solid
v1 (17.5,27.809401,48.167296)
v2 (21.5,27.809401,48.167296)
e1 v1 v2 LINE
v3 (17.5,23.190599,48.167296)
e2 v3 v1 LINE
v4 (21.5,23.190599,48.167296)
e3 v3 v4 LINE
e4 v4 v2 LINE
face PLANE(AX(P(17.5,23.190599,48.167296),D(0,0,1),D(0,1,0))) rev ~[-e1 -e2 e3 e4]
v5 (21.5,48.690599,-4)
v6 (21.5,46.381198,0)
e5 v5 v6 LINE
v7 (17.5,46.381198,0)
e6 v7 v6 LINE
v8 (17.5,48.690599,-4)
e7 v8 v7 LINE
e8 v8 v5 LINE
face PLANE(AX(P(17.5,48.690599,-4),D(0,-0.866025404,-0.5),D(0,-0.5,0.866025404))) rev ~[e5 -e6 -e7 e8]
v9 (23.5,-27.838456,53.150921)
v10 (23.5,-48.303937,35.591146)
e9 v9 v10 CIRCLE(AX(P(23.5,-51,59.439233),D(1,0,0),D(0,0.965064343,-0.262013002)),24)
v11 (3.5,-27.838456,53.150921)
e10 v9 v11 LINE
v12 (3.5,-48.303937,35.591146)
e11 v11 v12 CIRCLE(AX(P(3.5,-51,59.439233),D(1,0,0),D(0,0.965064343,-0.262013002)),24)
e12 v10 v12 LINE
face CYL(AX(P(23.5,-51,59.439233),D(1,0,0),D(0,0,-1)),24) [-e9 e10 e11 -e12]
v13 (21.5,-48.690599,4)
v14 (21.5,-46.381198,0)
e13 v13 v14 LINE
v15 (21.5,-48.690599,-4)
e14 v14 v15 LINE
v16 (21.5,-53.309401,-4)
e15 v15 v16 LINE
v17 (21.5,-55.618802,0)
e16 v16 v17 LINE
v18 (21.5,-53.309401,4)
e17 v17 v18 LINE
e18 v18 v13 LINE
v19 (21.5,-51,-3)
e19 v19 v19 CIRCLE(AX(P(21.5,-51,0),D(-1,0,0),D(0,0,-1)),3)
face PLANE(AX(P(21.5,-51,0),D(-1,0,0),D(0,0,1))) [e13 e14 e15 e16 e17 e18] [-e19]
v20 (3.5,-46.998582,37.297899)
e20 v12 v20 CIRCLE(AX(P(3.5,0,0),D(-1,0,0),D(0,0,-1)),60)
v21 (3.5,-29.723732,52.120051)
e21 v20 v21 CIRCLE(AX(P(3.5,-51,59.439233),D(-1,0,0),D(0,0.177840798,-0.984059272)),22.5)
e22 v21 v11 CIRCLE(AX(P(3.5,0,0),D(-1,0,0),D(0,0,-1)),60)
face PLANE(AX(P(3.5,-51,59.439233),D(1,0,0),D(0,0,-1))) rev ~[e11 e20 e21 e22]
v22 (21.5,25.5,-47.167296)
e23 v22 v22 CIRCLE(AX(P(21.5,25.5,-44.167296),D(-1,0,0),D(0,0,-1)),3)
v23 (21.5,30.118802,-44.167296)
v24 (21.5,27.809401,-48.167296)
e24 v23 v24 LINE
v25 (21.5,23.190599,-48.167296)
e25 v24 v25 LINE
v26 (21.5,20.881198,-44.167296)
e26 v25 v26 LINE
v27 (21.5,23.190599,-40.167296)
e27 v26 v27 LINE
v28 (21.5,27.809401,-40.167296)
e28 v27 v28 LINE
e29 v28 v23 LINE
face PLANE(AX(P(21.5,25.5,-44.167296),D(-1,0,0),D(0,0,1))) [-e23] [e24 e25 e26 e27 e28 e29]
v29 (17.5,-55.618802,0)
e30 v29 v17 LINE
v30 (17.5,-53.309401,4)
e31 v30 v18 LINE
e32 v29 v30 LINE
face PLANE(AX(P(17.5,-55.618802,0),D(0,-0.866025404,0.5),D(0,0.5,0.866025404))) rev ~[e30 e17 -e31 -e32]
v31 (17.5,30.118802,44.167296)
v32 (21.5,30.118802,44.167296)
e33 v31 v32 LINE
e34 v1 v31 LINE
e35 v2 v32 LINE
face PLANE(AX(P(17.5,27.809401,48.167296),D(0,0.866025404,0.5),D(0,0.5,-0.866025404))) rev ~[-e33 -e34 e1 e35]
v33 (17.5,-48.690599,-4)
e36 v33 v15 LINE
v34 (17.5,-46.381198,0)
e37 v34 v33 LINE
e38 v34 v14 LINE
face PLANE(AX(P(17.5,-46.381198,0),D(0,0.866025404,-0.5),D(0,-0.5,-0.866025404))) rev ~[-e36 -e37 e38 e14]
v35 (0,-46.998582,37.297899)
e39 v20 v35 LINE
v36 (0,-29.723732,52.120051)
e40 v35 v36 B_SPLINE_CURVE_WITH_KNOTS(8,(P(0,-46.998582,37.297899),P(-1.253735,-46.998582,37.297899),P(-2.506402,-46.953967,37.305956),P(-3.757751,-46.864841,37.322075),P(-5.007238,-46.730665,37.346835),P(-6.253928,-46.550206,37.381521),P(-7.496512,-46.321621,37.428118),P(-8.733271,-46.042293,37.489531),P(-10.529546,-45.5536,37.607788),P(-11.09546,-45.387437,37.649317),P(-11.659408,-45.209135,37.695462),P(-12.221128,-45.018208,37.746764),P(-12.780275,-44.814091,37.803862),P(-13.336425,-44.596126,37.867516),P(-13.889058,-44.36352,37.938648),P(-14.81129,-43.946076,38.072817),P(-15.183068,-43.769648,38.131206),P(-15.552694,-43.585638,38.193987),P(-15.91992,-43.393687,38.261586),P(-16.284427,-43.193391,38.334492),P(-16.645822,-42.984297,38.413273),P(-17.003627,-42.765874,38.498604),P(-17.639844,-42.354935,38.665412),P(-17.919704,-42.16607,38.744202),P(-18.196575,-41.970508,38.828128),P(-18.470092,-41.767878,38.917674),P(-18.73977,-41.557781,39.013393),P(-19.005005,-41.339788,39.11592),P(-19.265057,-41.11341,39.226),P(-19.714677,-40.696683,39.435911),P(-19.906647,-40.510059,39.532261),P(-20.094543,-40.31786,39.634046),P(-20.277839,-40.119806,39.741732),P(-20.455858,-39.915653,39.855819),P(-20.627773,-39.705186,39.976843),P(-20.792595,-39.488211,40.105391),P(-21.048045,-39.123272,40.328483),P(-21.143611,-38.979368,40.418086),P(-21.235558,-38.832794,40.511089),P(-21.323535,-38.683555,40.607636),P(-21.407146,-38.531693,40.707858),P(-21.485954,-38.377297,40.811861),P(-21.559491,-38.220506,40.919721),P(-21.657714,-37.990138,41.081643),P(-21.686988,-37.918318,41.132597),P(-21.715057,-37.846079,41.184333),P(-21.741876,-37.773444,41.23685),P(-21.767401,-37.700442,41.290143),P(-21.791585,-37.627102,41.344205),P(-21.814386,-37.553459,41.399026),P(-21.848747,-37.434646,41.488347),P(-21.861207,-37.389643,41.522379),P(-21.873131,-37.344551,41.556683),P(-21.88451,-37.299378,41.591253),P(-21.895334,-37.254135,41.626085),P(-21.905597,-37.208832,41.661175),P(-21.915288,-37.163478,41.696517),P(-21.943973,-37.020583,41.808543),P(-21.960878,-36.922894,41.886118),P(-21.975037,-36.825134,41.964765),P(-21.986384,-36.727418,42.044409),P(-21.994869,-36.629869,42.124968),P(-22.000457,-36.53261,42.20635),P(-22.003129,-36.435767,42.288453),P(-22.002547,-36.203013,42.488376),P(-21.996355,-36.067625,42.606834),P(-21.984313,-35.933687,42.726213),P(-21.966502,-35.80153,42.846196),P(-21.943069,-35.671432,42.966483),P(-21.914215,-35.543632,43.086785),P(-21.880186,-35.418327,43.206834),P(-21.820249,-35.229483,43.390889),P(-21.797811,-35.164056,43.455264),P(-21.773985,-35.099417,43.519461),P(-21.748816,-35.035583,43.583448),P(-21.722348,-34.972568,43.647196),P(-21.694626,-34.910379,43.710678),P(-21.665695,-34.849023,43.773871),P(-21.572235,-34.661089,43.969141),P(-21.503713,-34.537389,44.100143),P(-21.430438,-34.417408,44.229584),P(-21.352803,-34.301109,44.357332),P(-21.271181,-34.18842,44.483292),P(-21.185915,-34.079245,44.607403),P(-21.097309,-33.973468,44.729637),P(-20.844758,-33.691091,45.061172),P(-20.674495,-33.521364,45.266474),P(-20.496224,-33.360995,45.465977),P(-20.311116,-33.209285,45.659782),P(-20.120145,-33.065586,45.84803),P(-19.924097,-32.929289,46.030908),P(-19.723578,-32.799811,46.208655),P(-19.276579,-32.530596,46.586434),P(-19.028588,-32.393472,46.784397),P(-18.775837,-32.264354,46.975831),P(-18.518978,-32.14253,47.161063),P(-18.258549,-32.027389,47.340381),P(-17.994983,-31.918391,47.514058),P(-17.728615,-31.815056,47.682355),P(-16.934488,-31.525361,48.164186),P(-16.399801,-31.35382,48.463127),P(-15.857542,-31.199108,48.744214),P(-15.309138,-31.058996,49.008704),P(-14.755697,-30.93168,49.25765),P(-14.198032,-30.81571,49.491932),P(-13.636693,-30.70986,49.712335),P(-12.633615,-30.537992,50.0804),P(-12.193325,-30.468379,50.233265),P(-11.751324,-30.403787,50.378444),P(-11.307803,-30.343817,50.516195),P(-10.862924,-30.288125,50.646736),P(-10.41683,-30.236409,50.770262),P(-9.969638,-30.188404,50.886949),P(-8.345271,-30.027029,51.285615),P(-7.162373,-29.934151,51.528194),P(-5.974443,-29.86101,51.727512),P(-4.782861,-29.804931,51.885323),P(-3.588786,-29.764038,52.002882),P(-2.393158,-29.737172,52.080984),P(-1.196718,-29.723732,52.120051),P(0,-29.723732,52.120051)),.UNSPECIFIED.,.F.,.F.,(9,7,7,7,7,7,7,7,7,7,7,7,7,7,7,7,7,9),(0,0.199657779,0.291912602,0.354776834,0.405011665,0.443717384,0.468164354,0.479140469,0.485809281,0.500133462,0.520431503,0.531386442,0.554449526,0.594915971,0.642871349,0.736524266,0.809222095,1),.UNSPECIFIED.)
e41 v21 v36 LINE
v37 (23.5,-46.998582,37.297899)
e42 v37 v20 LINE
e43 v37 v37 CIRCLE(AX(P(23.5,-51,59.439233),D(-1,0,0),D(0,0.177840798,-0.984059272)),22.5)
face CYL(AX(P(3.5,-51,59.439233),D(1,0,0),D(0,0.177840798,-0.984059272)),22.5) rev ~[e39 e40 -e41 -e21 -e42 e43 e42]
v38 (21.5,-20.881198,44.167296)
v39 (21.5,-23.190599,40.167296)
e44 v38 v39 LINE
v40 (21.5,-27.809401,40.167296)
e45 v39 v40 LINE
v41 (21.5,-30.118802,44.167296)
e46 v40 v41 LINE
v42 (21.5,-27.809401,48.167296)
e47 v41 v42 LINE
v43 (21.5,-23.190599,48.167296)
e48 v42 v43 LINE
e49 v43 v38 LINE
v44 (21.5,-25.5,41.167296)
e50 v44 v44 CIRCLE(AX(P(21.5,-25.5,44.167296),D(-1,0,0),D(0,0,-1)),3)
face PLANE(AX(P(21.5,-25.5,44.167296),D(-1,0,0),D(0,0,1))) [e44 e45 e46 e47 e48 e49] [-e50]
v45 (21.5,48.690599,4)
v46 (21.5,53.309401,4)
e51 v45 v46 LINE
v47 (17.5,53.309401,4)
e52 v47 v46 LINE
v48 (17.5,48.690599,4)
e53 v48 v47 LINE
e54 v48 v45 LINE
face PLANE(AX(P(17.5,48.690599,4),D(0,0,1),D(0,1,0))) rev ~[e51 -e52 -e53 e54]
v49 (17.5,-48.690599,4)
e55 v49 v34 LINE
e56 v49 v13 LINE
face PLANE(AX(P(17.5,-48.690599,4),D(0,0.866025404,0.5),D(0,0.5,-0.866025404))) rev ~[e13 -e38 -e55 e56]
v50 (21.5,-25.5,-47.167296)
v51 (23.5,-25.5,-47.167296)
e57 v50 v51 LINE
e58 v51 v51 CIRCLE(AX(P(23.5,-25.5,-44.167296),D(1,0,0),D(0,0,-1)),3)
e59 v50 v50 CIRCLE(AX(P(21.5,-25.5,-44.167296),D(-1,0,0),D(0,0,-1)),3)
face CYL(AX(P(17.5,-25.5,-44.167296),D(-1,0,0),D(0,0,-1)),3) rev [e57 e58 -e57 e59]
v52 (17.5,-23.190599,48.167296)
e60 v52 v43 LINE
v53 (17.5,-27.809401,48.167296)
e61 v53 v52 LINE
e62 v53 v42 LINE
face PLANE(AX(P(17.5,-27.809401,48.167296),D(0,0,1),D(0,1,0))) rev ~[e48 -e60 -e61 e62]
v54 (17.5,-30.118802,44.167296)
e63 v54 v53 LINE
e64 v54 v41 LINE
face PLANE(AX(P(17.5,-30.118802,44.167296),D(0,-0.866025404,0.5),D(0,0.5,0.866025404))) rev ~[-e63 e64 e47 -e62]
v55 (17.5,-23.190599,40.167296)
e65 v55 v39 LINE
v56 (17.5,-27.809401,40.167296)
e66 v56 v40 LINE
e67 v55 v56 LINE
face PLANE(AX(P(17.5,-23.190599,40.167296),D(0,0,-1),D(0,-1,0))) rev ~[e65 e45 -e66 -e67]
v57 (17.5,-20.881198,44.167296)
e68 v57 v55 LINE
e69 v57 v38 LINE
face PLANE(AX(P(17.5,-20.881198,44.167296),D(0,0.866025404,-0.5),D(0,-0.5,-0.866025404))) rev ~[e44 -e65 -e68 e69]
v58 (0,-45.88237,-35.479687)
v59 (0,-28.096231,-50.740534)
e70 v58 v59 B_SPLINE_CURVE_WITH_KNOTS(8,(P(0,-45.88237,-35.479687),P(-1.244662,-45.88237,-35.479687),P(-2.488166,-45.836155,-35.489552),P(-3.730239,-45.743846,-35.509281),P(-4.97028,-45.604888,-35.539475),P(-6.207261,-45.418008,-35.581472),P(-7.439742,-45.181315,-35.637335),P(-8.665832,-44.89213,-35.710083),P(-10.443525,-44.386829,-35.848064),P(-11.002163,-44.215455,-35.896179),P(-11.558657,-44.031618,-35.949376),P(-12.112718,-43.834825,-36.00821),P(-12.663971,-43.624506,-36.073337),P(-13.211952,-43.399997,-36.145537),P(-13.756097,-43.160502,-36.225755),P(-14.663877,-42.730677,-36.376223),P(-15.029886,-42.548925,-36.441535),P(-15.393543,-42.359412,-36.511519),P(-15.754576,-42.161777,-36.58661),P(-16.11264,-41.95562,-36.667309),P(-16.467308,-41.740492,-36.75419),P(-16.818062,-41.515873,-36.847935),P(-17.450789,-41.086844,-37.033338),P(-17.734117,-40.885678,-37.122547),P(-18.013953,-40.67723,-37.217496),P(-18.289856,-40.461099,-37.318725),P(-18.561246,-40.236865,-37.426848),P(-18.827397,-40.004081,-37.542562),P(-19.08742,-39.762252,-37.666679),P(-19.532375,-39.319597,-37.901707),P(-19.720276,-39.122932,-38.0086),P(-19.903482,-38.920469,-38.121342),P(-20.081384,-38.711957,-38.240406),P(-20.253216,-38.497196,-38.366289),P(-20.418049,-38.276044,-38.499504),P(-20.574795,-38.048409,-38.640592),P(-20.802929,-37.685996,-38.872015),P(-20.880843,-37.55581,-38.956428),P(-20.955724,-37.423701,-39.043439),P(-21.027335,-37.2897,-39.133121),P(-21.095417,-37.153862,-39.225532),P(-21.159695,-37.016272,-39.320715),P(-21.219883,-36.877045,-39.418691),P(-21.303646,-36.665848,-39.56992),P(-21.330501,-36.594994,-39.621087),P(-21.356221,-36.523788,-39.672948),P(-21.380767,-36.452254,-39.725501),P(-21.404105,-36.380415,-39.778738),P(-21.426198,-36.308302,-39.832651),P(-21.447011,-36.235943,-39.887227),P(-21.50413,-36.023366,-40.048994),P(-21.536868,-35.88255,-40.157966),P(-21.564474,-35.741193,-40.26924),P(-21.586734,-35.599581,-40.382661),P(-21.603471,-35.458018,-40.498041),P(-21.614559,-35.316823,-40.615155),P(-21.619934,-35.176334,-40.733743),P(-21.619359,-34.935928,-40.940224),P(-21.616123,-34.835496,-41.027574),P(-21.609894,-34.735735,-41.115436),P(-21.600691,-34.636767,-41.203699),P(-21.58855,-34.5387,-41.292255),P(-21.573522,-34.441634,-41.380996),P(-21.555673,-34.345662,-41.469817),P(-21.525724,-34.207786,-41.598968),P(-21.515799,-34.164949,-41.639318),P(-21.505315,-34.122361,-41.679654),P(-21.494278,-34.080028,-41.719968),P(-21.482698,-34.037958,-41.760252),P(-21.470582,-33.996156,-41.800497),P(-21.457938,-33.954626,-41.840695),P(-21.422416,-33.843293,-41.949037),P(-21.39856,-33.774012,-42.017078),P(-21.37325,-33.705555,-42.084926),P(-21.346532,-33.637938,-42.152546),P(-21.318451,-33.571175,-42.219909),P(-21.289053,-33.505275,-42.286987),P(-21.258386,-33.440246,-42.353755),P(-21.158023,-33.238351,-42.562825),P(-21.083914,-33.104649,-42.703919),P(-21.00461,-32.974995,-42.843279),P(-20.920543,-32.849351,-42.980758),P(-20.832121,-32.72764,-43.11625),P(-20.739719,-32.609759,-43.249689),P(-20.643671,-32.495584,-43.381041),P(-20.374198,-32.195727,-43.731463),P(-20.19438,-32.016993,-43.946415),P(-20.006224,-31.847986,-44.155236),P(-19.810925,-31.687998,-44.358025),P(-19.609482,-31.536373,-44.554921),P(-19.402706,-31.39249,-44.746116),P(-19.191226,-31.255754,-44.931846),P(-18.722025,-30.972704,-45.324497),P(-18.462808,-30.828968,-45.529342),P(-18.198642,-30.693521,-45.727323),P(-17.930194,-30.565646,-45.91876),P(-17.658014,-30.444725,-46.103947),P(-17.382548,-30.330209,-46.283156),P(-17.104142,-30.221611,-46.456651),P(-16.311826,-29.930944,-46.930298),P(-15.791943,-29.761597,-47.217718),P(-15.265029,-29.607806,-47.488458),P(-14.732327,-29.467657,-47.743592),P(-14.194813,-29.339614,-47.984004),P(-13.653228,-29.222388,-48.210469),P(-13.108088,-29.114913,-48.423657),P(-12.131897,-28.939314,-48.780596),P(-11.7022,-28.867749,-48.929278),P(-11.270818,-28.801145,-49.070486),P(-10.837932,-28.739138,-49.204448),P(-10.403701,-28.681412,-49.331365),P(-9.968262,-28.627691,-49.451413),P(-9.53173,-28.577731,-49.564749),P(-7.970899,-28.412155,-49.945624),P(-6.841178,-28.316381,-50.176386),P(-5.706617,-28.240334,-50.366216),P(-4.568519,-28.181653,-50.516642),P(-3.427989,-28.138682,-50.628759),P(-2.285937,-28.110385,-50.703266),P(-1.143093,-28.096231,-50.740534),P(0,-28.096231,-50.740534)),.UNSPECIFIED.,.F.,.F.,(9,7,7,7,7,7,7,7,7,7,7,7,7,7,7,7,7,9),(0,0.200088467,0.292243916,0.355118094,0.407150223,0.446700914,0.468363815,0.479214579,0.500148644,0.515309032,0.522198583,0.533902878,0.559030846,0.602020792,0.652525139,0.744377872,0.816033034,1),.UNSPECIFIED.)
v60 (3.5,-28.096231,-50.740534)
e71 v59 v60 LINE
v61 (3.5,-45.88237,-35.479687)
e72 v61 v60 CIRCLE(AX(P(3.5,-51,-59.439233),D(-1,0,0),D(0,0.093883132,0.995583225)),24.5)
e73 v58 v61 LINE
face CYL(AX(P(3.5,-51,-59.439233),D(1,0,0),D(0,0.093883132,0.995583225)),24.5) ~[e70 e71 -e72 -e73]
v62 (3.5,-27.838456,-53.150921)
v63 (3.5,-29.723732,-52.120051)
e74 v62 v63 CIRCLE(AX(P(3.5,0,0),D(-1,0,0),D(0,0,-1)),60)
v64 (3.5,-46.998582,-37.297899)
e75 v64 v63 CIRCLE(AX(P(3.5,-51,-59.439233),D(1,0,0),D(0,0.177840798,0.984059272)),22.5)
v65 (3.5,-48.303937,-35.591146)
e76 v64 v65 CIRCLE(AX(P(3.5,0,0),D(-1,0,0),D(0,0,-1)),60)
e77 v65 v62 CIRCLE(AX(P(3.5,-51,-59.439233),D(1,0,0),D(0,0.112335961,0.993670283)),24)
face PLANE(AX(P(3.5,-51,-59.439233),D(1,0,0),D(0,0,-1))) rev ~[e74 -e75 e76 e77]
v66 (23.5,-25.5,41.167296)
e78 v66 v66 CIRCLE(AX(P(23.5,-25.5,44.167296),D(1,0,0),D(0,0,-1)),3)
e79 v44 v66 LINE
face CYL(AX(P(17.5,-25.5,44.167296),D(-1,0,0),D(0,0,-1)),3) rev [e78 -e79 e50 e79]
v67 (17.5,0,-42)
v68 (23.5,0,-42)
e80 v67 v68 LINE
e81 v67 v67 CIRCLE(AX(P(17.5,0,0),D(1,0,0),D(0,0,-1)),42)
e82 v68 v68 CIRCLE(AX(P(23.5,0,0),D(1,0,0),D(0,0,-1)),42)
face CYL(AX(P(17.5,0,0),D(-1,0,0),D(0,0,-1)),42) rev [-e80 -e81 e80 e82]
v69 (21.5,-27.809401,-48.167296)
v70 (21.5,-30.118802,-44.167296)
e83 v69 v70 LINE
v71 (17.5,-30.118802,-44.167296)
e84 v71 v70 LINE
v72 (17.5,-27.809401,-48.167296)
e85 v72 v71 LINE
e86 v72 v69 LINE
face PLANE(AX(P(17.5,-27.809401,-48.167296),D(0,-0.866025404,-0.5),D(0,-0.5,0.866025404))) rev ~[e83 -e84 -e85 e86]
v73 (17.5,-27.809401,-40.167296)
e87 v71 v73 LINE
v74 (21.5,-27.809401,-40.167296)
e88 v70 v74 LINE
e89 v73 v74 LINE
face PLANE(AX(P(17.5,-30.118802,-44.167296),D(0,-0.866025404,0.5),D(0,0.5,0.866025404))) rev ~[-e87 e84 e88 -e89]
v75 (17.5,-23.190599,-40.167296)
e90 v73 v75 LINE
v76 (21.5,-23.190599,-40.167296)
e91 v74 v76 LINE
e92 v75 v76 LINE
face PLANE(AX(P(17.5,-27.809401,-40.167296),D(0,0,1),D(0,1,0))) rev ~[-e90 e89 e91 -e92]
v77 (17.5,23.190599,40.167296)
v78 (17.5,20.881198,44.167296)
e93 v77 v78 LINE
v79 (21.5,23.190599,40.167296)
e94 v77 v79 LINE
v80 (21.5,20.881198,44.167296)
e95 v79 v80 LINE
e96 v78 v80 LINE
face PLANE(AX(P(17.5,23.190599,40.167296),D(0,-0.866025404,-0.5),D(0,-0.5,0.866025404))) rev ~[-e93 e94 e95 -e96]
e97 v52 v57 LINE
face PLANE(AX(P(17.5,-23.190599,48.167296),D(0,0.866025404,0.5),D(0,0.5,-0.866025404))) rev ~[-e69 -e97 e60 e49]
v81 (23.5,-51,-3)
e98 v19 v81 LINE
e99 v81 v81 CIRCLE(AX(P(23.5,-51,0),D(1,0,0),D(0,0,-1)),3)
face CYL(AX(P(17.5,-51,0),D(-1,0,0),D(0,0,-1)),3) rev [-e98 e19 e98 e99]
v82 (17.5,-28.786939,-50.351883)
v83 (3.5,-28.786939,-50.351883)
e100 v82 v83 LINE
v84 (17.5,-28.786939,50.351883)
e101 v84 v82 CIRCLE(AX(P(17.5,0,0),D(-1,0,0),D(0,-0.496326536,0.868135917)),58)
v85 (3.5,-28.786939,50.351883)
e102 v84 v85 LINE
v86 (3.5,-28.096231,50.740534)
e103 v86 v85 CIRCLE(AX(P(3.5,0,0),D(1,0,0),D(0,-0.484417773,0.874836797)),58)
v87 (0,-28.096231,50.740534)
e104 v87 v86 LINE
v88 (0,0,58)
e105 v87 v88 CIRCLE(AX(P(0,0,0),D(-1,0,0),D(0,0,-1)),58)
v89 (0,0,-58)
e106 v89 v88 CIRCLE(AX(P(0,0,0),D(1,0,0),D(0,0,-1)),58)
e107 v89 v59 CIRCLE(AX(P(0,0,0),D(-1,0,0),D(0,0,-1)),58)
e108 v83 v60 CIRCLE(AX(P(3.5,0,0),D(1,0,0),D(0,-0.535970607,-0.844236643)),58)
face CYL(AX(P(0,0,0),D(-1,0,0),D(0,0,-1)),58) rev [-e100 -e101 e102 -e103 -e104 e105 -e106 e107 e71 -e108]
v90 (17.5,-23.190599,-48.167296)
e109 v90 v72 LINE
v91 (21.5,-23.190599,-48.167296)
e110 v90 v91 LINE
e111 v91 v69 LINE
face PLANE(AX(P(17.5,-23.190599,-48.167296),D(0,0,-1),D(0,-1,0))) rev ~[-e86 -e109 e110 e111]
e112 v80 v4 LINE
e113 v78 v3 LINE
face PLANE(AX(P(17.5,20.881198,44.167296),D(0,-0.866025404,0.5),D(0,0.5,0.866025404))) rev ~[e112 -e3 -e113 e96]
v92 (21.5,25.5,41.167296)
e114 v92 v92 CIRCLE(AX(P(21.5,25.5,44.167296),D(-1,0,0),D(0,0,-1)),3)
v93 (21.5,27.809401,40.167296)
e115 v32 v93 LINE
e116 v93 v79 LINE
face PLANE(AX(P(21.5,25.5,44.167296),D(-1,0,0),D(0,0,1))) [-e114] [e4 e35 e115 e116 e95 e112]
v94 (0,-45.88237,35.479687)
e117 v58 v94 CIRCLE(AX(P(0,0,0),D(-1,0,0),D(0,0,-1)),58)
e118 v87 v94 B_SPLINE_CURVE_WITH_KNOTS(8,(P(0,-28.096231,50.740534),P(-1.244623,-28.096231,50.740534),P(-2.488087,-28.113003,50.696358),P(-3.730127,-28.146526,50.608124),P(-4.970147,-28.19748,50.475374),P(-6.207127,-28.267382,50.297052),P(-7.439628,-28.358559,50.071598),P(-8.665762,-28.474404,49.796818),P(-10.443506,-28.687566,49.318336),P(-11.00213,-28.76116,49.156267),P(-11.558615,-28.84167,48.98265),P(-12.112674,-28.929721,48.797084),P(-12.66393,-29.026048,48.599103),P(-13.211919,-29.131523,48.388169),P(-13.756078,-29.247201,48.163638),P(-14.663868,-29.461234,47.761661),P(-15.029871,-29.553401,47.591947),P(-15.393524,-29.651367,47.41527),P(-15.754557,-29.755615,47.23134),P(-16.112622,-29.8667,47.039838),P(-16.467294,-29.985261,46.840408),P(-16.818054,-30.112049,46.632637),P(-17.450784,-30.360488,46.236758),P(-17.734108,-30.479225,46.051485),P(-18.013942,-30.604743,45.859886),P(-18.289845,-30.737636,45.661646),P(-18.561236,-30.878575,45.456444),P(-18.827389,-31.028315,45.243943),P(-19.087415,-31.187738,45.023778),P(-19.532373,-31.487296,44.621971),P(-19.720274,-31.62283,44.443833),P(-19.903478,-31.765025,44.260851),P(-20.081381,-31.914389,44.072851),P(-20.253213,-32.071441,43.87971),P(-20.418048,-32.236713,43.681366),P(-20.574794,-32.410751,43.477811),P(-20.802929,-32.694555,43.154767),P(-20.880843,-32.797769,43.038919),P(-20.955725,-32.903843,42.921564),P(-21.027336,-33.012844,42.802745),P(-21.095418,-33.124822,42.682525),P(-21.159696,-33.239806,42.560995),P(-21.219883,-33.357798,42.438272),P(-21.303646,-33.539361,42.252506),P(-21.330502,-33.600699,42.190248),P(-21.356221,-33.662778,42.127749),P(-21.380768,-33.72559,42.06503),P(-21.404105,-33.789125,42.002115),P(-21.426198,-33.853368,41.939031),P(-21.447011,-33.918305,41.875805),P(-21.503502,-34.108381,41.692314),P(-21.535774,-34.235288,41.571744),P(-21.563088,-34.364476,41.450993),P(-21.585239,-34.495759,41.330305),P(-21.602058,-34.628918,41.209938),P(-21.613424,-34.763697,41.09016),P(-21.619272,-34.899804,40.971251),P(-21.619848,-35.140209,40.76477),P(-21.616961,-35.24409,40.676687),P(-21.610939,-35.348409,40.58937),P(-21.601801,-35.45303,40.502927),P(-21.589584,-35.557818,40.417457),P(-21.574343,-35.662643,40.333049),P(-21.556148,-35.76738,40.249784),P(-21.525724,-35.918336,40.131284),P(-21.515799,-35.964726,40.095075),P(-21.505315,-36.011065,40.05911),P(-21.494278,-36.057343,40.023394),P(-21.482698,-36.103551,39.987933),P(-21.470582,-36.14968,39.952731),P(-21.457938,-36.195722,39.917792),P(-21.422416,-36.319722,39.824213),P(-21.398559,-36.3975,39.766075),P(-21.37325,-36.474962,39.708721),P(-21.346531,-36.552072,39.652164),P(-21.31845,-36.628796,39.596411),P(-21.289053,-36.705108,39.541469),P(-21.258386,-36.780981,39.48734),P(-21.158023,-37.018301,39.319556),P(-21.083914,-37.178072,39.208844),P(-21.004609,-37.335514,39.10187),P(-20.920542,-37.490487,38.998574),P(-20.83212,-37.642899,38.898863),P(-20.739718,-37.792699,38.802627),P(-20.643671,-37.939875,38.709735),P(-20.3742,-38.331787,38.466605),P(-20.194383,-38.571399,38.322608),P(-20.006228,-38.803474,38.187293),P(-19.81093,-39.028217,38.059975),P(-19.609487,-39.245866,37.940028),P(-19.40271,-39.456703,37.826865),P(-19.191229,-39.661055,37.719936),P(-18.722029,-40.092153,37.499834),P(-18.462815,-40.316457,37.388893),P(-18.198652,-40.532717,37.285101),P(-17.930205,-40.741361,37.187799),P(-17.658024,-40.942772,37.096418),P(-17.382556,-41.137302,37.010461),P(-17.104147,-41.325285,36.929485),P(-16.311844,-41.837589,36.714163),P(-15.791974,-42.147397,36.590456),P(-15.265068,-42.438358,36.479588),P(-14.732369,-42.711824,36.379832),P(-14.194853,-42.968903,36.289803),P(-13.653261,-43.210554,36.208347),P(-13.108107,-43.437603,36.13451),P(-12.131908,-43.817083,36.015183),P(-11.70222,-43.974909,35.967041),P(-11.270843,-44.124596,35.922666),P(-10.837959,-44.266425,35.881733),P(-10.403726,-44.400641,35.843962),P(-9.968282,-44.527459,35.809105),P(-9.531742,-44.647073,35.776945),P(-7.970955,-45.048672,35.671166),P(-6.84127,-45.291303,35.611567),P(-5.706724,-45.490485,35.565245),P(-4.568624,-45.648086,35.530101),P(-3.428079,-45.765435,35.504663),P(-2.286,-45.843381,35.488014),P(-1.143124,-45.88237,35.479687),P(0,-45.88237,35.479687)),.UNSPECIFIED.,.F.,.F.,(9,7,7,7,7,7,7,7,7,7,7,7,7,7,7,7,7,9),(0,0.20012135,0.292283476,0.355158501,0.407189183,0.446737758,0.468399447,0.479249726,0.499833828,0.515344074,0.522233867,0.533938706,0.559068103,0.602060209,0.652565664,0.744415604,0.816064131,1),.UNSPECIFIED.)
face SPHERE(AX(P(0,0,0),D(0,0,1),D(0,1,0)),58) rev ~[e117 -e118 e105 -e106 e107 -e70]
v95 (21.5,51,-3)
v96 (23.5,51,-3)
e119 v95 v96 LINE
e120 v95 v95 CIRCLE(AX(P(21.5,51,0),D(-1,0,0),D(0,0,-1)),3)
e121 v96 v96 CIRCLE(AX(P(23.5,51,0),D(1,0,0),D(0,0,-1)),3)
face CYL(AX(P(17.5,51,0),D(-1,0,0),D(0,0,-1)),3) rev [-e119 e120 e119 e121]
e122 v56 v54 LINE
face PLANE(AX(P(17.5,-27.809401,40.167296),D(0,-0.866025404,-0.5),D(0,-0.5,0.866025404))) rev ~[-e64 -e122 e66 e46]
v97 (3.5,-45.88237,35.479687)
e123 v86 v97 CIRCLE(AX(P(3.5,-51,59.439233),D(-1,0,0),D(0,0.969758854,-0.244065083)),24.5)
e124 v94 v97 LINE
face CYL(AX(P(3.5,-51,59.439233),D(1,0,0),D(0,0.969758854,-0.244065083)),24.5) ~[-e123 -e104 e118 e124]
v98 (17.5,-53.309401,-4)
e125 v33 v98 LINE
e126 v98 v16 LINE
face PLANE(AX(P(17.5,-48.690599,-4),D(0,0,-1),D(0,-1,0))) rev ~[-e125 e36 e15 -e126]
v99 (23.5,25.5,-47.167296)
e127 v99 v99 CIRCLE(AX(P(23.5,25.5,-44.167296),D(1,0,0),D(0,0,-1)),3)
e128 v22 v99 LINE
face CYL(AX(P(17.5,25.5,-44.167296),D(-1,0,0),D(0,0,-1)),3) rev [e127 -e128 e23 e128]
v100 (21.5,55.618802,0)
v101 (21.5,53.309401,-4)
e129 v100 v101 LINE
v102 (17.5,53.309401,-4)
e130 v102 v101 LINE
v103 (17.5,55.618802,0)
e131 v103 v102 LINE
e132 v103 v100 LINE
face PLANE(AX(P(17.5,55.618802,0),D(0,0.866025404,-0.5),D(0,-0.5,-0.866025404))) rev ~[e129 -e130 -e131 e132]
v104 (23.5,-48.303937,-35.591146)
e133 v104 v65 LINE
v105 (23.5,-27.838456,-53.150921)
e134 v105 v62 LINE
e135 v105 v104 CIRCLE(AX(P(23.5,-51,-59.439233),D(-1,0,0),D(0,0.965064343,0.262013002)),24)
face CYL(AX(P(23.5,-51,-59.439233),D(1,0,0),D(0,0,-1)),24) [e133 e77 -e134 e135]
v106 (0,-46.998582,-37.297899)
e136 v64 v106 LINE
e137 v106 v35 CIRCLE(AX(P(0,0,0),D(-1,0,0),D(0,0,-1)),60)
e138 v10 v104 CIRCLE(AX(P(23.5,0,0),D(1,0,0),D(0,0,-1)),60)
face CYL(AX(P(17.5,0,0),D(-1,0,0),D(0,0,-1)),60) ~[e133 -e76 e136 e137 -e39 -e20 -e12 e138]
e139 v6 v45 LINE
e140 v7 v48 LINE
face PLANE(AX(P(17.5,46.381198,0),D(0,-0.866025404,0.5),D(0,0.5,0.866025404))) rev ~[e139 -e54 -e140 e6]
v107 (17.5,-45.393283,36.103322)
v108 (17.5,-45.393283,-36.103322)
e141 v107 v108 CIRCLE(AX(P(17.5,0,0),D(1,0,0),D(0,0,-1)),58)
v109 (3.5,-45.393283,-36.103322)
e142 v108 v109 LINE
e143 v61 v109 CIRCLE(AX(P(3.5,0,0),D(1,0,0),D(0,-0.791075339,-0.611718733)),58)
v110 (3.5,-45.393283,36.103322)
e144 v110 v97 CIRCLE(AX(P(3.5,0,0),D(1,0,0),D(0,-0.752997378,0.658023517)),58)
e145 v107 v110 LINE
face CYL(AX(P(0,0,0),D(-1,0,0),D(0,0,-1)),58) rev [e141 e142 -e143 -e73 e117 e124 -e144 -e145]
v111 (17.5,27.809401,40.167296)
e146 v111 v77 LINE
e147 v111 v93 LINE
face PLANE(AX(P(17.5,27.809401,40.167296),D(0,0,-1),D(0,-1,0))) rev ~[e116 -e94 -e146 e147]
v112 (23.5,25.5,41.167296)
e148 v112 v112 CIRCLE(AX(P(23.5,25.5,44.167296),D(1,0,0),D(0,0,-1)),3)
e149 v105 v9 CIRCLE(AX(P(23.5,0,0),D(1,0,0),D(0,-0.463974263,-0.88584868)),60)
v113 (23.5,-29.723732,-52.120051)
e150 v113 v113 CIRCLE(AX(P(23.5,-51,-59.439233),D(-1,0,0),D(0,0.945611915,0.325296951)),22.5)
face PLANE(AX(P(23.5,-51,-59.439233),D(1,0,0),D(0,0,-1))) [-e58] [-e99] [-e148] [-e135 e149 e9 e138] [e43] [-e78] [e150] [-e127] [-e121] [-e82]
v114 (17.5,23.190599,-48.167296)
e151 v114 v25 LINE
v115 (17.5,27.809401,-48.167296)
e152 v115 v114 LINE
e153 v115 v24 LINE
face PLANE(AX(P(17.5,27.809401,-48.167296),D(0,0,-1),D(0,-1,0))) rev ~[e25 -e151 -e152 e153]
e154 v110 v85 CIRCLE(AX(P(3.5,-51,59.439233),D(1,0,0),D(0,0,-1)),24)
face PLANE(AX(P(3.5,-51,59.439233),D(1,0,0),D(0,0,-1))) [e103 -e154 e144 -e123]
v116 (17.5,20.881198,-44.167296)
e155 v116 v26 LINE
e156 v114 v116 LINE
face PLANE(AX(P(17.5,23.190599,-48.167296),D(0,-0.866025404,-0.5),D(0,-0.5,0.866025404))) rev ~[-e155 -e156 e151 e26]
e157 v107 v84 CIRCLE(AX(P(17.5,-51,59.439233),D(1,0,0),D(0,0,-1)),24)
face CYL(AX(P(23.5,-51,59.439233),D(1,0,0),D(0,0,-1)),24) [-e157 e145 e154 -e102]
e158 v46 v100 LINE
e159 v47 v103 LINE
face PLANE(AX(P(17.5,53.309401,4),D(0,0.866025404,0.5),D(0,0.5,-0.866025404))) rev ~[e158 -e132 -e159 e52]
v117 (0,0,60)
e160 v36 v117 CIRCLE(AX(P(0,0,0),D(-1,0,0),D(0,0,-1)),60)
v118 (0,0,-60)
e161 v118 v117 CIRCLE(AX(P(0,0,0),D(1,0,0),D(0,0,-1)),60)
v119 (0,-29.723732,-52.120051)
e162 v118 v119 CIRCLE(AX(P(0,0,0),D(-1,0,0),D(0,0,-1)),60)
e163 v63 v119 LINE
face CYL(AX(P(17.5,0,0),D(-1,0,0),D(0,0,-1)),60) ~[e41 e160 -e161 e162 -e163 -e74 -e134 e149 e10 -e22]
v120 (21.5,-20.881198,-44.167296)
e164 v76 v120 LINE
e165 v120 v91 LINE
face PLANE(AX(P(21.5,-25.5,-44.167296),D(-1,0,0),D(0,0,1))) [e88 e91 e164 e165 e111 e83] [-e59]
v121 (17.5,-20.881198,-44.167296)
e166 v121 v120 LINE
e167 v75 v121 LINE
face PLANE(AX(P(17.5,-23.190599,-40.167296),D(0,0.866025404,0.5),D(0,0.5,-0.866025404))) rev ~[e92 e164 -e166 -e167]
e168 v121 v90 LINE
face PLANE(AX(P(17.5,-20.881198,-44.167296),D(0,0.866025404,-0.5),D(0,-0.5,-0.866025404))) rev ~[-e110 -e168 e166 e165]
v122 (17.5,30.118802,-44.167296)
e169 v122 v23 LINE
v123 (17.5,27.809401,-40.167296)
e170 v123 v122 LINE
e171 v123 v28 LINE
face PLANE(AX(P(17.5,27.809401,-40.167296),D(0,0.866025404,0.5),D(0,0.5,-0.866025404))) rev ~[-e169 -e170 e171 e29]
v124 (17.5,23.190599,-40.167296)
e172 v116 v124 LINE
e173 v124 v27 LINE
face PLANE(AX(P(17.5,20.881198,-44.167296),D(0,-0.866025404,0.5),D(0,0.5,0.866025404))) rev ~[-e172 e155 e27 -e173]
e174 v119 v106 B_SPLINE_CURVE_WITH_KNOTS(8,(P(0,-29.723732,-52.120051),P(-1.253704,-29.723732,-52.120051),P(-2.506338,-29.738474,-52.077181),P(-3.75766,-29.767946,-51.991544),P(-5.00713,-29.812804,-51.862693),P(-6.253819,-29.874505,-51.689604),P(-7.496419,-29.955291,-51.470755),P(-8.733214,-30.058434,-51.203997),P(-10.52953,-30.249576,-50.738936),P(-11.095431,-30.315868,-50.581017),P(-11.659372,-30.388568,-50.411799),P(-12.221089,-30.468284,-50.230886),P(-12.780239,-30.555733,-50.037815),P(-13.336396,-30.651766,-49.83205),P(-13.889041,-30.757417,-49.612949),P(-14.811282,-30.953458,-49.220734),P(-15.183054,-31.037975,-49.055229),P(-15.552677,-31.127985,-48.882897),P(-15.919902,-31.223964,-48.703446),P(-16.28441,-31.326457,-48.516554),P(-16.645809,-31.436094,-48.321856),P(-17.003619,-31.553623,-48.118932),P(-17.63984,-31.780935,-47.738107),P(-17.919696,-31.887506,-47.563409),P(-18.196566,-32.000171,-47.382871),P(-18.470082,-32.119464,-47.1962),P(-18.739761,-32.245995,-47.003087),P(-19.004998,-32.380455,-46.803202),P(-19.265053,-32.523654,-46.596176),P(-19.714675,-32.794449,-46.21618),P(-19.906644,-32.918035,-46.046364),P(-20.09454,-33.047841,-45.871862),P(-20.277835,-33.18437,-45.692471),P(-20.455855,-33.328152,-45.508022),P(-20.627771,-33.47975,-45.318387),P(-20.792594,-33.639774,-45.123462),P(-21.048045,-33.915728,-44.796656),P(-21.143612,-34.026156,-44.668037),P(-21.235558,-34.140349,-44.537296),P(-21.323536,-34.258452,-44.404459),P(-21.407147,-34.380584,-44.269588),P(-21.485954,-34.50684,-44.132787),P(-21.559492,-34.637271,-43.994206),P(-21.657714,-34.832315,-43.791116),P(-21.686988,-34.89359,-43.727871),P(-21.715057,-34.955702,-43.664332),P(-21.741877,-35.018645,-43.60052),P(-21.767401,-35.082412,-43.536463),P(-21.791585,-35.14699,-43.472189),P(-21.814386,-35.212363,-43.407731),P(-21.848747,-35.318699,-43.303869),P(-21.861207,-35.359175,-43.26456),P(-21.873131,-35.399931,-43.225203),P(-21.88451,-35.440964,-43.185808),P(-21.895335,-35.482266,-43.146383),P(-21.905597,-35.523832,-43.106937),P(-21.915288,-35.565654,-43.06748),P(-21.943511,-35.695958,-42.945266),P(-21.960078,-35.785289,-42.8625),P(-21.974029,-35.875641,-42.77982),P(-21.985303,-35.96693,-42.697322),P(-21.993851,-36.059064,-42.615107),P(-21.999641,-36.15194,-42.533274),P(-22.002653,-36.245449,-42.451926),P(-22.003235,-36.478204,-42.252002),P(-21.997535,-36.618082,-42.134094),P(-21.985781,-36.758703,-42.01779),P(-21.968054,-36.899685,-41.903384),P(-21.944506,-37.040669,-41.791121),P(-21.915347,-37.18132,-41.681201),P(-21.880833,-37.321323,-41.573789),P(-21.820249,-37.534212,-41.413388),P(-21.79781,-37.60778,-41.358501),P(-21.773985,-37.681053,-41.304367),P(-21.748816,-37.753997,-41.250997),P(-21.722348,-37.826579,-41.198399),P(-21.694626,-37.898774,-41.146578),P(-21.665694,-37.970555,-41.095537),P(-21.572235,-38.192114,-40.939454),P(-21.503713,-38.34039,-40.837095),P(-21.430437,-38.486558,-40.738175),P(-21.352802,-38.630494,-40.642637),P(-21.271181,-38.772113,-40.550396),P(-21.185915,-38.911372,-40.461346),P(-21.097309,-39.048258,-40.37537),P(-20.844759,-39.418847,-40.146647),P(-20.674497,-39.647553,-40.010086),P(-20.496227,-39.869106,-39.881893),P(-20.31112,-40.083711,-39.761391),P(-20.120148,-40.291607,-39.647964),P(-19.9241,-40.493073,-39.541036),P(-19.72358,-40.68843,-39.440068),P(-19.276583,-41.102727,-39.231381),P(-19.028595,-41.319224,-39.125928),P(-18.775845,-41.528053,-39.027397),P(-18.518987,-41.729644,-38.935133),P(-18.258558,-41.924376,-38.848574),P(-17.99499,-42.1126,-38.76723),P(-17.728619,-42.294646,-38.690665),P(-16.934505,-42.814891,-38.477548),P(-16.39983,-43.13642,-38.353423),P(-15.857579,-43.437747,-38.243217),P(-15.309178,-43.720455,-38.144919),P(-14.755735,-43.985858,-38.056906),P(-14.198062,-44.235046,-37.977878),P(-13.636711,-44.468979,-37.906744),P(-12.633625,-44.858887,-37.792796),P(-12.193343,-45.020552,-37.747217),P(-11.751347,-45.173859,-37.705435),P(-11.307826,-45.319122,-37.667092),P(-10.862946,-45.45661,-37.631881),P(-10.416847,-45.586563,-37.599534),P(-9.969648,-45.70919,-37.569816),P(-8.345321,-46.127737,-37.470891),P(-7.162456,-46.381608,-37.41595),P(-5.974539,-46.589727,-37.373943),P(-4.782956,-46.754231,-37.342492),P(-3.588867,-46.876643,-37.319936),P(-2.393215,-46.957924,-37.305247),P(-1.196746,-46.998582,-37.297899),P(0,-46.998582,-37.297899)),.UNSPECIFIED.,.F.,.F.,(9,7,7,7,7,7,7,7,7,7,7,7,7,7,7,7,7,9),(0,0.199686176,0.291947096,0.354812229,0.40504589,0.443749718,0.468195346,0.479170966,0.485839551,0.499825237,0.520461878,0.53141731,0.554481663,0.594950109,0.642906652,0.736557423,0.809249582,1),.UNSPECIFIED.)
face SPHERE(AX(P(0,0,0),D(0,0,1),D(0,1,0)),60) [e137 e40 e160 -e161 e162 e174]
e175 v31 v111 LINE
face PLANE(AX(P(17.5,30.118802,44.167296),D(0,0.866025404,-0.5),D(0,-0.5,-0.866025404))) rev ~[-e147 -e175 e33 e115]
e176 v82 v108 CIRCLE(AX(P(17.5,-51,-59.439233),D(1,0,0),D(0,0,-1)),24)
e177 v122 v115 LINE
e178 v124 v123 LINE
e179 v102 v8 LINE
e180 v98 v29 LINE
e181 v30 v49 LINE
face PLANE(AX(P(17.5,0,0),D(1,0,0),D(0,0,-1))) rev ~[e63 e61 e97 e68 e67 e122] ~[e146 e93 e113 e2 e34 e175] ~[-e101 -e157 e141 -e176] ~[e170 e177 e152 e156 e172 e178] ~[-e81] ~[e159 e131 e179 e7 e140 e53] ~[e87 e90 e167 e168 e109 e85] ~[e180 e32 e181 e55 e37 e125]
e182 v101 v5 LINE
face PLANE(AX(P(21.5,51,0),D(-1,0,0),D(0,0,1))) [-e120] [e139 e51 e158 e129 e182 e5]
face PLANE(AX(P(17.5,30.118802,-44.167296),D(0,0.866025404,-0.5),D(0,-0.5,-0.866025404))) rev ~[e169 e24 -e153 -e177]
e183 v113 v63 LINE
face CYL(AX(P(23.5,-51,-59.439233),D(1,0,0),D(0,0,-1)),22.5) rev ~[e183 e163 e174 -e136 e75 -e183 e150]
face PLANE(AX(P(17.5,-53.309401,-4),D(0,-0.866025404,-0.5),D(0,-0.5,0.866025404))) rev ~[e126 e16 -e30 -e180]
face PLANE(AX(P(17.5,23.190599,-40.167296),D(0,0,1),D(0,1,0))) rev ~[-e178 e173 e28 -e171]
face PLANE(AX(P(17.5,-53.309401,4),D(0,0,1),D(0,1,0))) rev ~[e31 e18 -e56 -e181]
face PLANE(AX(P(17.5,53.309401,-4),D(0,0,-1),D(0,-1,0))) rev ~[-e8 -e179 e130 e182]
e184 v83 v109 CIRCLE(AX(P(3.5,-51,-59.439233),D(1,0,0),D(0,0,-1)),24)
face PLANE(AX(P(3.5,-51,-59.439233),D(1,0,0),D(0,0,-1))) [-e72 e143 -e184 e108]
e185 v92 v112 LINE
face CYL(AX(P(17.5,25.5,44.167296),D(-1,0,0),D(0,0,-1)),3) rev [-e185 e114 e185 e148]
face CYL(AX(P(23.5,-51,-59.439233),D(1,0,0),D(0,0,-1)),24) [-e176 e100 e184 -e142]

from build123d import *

# Parameters (mm, degrees)
REVOLUCI_N3_ANGLE       = 180
VACIADO1_T              = -2
CROQUIS5_R              = 60
CROQUIS5_R_2            = 58
SALIENTE_EXTRUIR1_DEPTH = 17.5
CROQUIS6_R              = 60
CROQUIS6_R_2            = 42
CROQUIS6_R_3            = 3
SALIENTE_EXTRUIR2_DEPTH = 6
CROQUIS7_R              = 24
CROQUIS7_R_2            = 22.5
SALIENTE_EXTRUIR3_DEPTH = 20
CROQUIS8_R              = 22.5
CORTAR_EXTRUIR2_DEPTH   = 20
CROQUIS9_R              = 22.5
CORTAR_EXTRUIR3_DEPTH   = 64.5
SALIENTE_EXTRUIR4_REACH = 65.5
CORTAR_EXTRUIR4_DEPTH   = 4


with BuildPart() as part:
    # Croquis4 → Revolución3 (revolve)
    with BuildSketch(Plane(origin=(0, 0, 0), x_dir=(0, 0, -1), z_dir=(1, 0, 0))):
        with BuildLine():
            Line((-60, 0), (60, 0))
            ThreePointArc((60, 0), (0, 60), (-60, 0))
        make_face()
    revolve(axis=Axis((0, 0, 60), (0, 0, 1)), revolution_arc=REVOLUCI_N3_ANGLE)

    # Vaciado1
    vaciado1_openings = [part.faces().sort_by_distance(p)[0] for p in [
        (0, 0, -60),
    ]]
    offset(amount=VACIADO1_T, openings=vaciado1_openings)

    # Croquis5 → Saliente-Extruir1 (add)
    with BuildSketch(Plane(origin=(0, 0, 0), x_dir=(0, 0, -1), z_dir=(1, 0, 0))):
        Circle(CROQUIS5_R)
        Circle(CROQUIS5_R_2, mode=Mode.SUBTRACT)
    extrude(amount=SALIENTE_EXTRUIR1_DEPTH)

    # Croquis6 → Saliente-Extruir2 (add)
    with BuildSketch(Plane(origin=(17.5, 0, 0), x_dir=(0, 0, -1), z_dir=(1, 0, 0))):
        Circle(CROQUIS6_R)
        Circle(CROQUIS6_R_2, mode=Mode.SUBTRACT)
        with Locations((0, 51)):
            Circle(CROQUIS6_R_3, mode=Mode.SUBTRACT)
        with Locations((44.167295593, 25.5)):
            Circle(CROQUIS6_R_3, mode=Mode.SUBTRACT)
        with Locations((44.167295593, -25.5)):
            Circle(CROQUIS6_R_3, mode=Mode.SUBTRACT)
        with Locations((0, -51)):
            Circle(CROQUIS6_R_3, mode=Mode.SUBTRACT)
        with Locations((-44.167295593, -25.5)):
            Circle(CROQUIS6_R_3, mode=Mode.SUBTRACT)
        with Locations((-44.167295593, 25.5)):
            Circle(CROQUIS6_R_3, mode=Mode.SUBTRACT)
    extrude(amount=SALIENTE_EXTRUIR2_DEPTH)

    # Croquis7 → Saliente-Extruir3 (add)
    with BuildSketch(Plane(origin=(23.5, 0, 0), x_dir=(0, 0, -1), z_dir=(1, 0, 0))):
        with Locations((59.439232835, -51)):
            Circle(CROQUIS7_R)
        with Locations((59.439232835, -51)):
            Circle(CROQUIS7_R_2, mode=Mode.SUBTRACT)
        with Locations((-59.439232835, -51)):
            Circle(CROQUIS7_R)
        with Locations((-59.439232835, -51)):
            Circle(CROQUIS7_R_2, mode=Mode.SUBTRACT)
    extrude(amount=-SALIENTE_EXTRUIR3_DEPTH)

    # Croquis8 → Cortar-Extruir2 (cut)
    with BuildSketch(Plane(origin=(23.5, 0, 0), x_dir=(0, 0, -1), z_dir=(1, 0, 0))):
        with Locations((-59.439232835, -51)):
            Circle(CROQUIS8_R)
        with Locations((59.439232835, -51)):
            Circle(CROQUIS8_R)
    extrude(amount=-CORTAR_EXTRUIR2_DEPTH, mode=Mode.SUBTRACT)

    # Croquis9 → Cortar-Extruir3 (cut, through all)
    with BuildSketch(Plane(origin=(3.5, 0, 0), x_dir=(0, 0, -1), z_dir=(1, 0, 0))):
        with Locations((-59.439232835, -51)):
            Circle(CROQUIS9_R)
        with Locations((59.439232835, -51)):
            Circle(CROQUIS9_R)
    extrude(amount=-CORTAR_EXTRUIR3_DEPTH, mode=Mode.SUBTRACT)

    # Croquis10 → Saliente-Extruir4 (add, up to next)
    with BuildSketch(Plane(origin=(3.5, 0, 0), x_dir=(0, 0, -1), z_dir=(1, 0, 0)), mode=Mode.PRIVATE) as saliente_extruir4_sk1:
        with BuildLine():
            ThreePointArc((-37.297899218, -46.998582041), (-42.363355169, -36.348569969), (-52.120051429, -29.723731917))
            ThreePointArc((-52.120051429, -29.723731917), (-52.804439439, -28.490194375), (-53.459638302, -27.240908072))
            ThreePointArc((-53.459638302, -27.240908072), (-40.845499377, -35.046220633), (-35.047443828, -48.699863256))
            ThreePointArc((-35.047443828, -48.699863256), (-36.182672021, -47.86245131), (-37.297899218, -46.998582041))
        make_face()
    saliente_extruir4_tool1 = extrude(saliente_extruir4_sk1.sketch, amount=-SALIENTE_EXTRUIR4_REACH, mode=Mode.PRIVATE) - part.part
    add(saliente_extruir4_tool1.solids().sort_by_distance((3.5, -28.355933, 52.555595))[0])
    # Croquis10 → Saliente-Extruir4 (add, up to next)
    with BuildSketch(Plane(origin=(3.5, 0, 0), x_dir=(0, 0, -1), z_dir=(1, 0, 0)), mode=Mode.PRIVATE) as saliente_extruir4_sk2:
        with BuildLine():
            ThreePointArc((37.297899218, -46.998582041), (36.182672021, -47.86245131), (35.047443828, -48.699863256))
            ThreePointArc((35.047443828, -48.699863256), (40.845499377, -35.046220633), (53.459638302, -27.240908072))
            ThreePointArc((53.459638302, -27.240908072), (52.804439439, -28.490194375), (52.120051429, -29.723731917))
            ThreePointArc((52.120051429, -29.723731917), (42.363355169, -36.348569969), (37.297899218, -46.998582041))
        make_face()
    saliente_extruir4_tool2 = extrude(saliente_extruir4_sk2.sketch, amount=-SALIENTE_EXTRUIR4_REACH, mode=Mode.PRIVATE) - part.part
    add(saliente_extruir4_tool2.solids().sort_by_distance((3.5, -36.164448, -42.148766))[0])

    # Croquis11 → Cortar-Extruir4 (cut)
    with BuildSketch(Plane.ZY.offset(-17.5)):
        Polygon((48.167295593, 27.809401077), (44.167295593, 30.118802154), (40.167295593, 27.809401077), (40.167295593, 23.190598923), (44.167295593, 20.881197846), (48.167295593, 23.190598923), align=None)
        Polygon((0, 55.618802154), (-4, 53.309401077), (-4, 48.690598923), (0, 46.381197846), (4, 48.690598923), (4, 53.309401077), align=None)
        Polygon((48.167295593, -27.809401077), (48.167295593, -23.190598923), (44.167295593, -20.881197846), (40.167295593, -23.190598923), (40.167295593, -27.809401077), (44.167295593, -30.118802154), align=None)
        Polygon((0, -55.618802154), (4, -53.309401077), (4, -48.690598923), (0, -46.381197846), (-4, -48.690598923), (-4, -53.309401077), align=None)
        Polygon((-48.167295593, -27.809401077), (-44.167295593, -30.118802154), (-40.167295593, -27.809401077), (-40.167295593, -23.190598923), (-44.167295593, -20.881197846), (-48.167295593, -23.190598923), align=None)
        Polygon((-48.167295593, 27.809401077), (-48.167295593, 23.190598923), (-44.167295593, 20.881197846), (-40.167295593, 23.190598923), (-40.167295593, 27.809401077), (-44.167295593, 30.118802154), align=None)
    extrude(amount=-CORTAR_EXTRUIR4_DEPTH, mode=Mode.SUBTRACT)


solid = part.part
